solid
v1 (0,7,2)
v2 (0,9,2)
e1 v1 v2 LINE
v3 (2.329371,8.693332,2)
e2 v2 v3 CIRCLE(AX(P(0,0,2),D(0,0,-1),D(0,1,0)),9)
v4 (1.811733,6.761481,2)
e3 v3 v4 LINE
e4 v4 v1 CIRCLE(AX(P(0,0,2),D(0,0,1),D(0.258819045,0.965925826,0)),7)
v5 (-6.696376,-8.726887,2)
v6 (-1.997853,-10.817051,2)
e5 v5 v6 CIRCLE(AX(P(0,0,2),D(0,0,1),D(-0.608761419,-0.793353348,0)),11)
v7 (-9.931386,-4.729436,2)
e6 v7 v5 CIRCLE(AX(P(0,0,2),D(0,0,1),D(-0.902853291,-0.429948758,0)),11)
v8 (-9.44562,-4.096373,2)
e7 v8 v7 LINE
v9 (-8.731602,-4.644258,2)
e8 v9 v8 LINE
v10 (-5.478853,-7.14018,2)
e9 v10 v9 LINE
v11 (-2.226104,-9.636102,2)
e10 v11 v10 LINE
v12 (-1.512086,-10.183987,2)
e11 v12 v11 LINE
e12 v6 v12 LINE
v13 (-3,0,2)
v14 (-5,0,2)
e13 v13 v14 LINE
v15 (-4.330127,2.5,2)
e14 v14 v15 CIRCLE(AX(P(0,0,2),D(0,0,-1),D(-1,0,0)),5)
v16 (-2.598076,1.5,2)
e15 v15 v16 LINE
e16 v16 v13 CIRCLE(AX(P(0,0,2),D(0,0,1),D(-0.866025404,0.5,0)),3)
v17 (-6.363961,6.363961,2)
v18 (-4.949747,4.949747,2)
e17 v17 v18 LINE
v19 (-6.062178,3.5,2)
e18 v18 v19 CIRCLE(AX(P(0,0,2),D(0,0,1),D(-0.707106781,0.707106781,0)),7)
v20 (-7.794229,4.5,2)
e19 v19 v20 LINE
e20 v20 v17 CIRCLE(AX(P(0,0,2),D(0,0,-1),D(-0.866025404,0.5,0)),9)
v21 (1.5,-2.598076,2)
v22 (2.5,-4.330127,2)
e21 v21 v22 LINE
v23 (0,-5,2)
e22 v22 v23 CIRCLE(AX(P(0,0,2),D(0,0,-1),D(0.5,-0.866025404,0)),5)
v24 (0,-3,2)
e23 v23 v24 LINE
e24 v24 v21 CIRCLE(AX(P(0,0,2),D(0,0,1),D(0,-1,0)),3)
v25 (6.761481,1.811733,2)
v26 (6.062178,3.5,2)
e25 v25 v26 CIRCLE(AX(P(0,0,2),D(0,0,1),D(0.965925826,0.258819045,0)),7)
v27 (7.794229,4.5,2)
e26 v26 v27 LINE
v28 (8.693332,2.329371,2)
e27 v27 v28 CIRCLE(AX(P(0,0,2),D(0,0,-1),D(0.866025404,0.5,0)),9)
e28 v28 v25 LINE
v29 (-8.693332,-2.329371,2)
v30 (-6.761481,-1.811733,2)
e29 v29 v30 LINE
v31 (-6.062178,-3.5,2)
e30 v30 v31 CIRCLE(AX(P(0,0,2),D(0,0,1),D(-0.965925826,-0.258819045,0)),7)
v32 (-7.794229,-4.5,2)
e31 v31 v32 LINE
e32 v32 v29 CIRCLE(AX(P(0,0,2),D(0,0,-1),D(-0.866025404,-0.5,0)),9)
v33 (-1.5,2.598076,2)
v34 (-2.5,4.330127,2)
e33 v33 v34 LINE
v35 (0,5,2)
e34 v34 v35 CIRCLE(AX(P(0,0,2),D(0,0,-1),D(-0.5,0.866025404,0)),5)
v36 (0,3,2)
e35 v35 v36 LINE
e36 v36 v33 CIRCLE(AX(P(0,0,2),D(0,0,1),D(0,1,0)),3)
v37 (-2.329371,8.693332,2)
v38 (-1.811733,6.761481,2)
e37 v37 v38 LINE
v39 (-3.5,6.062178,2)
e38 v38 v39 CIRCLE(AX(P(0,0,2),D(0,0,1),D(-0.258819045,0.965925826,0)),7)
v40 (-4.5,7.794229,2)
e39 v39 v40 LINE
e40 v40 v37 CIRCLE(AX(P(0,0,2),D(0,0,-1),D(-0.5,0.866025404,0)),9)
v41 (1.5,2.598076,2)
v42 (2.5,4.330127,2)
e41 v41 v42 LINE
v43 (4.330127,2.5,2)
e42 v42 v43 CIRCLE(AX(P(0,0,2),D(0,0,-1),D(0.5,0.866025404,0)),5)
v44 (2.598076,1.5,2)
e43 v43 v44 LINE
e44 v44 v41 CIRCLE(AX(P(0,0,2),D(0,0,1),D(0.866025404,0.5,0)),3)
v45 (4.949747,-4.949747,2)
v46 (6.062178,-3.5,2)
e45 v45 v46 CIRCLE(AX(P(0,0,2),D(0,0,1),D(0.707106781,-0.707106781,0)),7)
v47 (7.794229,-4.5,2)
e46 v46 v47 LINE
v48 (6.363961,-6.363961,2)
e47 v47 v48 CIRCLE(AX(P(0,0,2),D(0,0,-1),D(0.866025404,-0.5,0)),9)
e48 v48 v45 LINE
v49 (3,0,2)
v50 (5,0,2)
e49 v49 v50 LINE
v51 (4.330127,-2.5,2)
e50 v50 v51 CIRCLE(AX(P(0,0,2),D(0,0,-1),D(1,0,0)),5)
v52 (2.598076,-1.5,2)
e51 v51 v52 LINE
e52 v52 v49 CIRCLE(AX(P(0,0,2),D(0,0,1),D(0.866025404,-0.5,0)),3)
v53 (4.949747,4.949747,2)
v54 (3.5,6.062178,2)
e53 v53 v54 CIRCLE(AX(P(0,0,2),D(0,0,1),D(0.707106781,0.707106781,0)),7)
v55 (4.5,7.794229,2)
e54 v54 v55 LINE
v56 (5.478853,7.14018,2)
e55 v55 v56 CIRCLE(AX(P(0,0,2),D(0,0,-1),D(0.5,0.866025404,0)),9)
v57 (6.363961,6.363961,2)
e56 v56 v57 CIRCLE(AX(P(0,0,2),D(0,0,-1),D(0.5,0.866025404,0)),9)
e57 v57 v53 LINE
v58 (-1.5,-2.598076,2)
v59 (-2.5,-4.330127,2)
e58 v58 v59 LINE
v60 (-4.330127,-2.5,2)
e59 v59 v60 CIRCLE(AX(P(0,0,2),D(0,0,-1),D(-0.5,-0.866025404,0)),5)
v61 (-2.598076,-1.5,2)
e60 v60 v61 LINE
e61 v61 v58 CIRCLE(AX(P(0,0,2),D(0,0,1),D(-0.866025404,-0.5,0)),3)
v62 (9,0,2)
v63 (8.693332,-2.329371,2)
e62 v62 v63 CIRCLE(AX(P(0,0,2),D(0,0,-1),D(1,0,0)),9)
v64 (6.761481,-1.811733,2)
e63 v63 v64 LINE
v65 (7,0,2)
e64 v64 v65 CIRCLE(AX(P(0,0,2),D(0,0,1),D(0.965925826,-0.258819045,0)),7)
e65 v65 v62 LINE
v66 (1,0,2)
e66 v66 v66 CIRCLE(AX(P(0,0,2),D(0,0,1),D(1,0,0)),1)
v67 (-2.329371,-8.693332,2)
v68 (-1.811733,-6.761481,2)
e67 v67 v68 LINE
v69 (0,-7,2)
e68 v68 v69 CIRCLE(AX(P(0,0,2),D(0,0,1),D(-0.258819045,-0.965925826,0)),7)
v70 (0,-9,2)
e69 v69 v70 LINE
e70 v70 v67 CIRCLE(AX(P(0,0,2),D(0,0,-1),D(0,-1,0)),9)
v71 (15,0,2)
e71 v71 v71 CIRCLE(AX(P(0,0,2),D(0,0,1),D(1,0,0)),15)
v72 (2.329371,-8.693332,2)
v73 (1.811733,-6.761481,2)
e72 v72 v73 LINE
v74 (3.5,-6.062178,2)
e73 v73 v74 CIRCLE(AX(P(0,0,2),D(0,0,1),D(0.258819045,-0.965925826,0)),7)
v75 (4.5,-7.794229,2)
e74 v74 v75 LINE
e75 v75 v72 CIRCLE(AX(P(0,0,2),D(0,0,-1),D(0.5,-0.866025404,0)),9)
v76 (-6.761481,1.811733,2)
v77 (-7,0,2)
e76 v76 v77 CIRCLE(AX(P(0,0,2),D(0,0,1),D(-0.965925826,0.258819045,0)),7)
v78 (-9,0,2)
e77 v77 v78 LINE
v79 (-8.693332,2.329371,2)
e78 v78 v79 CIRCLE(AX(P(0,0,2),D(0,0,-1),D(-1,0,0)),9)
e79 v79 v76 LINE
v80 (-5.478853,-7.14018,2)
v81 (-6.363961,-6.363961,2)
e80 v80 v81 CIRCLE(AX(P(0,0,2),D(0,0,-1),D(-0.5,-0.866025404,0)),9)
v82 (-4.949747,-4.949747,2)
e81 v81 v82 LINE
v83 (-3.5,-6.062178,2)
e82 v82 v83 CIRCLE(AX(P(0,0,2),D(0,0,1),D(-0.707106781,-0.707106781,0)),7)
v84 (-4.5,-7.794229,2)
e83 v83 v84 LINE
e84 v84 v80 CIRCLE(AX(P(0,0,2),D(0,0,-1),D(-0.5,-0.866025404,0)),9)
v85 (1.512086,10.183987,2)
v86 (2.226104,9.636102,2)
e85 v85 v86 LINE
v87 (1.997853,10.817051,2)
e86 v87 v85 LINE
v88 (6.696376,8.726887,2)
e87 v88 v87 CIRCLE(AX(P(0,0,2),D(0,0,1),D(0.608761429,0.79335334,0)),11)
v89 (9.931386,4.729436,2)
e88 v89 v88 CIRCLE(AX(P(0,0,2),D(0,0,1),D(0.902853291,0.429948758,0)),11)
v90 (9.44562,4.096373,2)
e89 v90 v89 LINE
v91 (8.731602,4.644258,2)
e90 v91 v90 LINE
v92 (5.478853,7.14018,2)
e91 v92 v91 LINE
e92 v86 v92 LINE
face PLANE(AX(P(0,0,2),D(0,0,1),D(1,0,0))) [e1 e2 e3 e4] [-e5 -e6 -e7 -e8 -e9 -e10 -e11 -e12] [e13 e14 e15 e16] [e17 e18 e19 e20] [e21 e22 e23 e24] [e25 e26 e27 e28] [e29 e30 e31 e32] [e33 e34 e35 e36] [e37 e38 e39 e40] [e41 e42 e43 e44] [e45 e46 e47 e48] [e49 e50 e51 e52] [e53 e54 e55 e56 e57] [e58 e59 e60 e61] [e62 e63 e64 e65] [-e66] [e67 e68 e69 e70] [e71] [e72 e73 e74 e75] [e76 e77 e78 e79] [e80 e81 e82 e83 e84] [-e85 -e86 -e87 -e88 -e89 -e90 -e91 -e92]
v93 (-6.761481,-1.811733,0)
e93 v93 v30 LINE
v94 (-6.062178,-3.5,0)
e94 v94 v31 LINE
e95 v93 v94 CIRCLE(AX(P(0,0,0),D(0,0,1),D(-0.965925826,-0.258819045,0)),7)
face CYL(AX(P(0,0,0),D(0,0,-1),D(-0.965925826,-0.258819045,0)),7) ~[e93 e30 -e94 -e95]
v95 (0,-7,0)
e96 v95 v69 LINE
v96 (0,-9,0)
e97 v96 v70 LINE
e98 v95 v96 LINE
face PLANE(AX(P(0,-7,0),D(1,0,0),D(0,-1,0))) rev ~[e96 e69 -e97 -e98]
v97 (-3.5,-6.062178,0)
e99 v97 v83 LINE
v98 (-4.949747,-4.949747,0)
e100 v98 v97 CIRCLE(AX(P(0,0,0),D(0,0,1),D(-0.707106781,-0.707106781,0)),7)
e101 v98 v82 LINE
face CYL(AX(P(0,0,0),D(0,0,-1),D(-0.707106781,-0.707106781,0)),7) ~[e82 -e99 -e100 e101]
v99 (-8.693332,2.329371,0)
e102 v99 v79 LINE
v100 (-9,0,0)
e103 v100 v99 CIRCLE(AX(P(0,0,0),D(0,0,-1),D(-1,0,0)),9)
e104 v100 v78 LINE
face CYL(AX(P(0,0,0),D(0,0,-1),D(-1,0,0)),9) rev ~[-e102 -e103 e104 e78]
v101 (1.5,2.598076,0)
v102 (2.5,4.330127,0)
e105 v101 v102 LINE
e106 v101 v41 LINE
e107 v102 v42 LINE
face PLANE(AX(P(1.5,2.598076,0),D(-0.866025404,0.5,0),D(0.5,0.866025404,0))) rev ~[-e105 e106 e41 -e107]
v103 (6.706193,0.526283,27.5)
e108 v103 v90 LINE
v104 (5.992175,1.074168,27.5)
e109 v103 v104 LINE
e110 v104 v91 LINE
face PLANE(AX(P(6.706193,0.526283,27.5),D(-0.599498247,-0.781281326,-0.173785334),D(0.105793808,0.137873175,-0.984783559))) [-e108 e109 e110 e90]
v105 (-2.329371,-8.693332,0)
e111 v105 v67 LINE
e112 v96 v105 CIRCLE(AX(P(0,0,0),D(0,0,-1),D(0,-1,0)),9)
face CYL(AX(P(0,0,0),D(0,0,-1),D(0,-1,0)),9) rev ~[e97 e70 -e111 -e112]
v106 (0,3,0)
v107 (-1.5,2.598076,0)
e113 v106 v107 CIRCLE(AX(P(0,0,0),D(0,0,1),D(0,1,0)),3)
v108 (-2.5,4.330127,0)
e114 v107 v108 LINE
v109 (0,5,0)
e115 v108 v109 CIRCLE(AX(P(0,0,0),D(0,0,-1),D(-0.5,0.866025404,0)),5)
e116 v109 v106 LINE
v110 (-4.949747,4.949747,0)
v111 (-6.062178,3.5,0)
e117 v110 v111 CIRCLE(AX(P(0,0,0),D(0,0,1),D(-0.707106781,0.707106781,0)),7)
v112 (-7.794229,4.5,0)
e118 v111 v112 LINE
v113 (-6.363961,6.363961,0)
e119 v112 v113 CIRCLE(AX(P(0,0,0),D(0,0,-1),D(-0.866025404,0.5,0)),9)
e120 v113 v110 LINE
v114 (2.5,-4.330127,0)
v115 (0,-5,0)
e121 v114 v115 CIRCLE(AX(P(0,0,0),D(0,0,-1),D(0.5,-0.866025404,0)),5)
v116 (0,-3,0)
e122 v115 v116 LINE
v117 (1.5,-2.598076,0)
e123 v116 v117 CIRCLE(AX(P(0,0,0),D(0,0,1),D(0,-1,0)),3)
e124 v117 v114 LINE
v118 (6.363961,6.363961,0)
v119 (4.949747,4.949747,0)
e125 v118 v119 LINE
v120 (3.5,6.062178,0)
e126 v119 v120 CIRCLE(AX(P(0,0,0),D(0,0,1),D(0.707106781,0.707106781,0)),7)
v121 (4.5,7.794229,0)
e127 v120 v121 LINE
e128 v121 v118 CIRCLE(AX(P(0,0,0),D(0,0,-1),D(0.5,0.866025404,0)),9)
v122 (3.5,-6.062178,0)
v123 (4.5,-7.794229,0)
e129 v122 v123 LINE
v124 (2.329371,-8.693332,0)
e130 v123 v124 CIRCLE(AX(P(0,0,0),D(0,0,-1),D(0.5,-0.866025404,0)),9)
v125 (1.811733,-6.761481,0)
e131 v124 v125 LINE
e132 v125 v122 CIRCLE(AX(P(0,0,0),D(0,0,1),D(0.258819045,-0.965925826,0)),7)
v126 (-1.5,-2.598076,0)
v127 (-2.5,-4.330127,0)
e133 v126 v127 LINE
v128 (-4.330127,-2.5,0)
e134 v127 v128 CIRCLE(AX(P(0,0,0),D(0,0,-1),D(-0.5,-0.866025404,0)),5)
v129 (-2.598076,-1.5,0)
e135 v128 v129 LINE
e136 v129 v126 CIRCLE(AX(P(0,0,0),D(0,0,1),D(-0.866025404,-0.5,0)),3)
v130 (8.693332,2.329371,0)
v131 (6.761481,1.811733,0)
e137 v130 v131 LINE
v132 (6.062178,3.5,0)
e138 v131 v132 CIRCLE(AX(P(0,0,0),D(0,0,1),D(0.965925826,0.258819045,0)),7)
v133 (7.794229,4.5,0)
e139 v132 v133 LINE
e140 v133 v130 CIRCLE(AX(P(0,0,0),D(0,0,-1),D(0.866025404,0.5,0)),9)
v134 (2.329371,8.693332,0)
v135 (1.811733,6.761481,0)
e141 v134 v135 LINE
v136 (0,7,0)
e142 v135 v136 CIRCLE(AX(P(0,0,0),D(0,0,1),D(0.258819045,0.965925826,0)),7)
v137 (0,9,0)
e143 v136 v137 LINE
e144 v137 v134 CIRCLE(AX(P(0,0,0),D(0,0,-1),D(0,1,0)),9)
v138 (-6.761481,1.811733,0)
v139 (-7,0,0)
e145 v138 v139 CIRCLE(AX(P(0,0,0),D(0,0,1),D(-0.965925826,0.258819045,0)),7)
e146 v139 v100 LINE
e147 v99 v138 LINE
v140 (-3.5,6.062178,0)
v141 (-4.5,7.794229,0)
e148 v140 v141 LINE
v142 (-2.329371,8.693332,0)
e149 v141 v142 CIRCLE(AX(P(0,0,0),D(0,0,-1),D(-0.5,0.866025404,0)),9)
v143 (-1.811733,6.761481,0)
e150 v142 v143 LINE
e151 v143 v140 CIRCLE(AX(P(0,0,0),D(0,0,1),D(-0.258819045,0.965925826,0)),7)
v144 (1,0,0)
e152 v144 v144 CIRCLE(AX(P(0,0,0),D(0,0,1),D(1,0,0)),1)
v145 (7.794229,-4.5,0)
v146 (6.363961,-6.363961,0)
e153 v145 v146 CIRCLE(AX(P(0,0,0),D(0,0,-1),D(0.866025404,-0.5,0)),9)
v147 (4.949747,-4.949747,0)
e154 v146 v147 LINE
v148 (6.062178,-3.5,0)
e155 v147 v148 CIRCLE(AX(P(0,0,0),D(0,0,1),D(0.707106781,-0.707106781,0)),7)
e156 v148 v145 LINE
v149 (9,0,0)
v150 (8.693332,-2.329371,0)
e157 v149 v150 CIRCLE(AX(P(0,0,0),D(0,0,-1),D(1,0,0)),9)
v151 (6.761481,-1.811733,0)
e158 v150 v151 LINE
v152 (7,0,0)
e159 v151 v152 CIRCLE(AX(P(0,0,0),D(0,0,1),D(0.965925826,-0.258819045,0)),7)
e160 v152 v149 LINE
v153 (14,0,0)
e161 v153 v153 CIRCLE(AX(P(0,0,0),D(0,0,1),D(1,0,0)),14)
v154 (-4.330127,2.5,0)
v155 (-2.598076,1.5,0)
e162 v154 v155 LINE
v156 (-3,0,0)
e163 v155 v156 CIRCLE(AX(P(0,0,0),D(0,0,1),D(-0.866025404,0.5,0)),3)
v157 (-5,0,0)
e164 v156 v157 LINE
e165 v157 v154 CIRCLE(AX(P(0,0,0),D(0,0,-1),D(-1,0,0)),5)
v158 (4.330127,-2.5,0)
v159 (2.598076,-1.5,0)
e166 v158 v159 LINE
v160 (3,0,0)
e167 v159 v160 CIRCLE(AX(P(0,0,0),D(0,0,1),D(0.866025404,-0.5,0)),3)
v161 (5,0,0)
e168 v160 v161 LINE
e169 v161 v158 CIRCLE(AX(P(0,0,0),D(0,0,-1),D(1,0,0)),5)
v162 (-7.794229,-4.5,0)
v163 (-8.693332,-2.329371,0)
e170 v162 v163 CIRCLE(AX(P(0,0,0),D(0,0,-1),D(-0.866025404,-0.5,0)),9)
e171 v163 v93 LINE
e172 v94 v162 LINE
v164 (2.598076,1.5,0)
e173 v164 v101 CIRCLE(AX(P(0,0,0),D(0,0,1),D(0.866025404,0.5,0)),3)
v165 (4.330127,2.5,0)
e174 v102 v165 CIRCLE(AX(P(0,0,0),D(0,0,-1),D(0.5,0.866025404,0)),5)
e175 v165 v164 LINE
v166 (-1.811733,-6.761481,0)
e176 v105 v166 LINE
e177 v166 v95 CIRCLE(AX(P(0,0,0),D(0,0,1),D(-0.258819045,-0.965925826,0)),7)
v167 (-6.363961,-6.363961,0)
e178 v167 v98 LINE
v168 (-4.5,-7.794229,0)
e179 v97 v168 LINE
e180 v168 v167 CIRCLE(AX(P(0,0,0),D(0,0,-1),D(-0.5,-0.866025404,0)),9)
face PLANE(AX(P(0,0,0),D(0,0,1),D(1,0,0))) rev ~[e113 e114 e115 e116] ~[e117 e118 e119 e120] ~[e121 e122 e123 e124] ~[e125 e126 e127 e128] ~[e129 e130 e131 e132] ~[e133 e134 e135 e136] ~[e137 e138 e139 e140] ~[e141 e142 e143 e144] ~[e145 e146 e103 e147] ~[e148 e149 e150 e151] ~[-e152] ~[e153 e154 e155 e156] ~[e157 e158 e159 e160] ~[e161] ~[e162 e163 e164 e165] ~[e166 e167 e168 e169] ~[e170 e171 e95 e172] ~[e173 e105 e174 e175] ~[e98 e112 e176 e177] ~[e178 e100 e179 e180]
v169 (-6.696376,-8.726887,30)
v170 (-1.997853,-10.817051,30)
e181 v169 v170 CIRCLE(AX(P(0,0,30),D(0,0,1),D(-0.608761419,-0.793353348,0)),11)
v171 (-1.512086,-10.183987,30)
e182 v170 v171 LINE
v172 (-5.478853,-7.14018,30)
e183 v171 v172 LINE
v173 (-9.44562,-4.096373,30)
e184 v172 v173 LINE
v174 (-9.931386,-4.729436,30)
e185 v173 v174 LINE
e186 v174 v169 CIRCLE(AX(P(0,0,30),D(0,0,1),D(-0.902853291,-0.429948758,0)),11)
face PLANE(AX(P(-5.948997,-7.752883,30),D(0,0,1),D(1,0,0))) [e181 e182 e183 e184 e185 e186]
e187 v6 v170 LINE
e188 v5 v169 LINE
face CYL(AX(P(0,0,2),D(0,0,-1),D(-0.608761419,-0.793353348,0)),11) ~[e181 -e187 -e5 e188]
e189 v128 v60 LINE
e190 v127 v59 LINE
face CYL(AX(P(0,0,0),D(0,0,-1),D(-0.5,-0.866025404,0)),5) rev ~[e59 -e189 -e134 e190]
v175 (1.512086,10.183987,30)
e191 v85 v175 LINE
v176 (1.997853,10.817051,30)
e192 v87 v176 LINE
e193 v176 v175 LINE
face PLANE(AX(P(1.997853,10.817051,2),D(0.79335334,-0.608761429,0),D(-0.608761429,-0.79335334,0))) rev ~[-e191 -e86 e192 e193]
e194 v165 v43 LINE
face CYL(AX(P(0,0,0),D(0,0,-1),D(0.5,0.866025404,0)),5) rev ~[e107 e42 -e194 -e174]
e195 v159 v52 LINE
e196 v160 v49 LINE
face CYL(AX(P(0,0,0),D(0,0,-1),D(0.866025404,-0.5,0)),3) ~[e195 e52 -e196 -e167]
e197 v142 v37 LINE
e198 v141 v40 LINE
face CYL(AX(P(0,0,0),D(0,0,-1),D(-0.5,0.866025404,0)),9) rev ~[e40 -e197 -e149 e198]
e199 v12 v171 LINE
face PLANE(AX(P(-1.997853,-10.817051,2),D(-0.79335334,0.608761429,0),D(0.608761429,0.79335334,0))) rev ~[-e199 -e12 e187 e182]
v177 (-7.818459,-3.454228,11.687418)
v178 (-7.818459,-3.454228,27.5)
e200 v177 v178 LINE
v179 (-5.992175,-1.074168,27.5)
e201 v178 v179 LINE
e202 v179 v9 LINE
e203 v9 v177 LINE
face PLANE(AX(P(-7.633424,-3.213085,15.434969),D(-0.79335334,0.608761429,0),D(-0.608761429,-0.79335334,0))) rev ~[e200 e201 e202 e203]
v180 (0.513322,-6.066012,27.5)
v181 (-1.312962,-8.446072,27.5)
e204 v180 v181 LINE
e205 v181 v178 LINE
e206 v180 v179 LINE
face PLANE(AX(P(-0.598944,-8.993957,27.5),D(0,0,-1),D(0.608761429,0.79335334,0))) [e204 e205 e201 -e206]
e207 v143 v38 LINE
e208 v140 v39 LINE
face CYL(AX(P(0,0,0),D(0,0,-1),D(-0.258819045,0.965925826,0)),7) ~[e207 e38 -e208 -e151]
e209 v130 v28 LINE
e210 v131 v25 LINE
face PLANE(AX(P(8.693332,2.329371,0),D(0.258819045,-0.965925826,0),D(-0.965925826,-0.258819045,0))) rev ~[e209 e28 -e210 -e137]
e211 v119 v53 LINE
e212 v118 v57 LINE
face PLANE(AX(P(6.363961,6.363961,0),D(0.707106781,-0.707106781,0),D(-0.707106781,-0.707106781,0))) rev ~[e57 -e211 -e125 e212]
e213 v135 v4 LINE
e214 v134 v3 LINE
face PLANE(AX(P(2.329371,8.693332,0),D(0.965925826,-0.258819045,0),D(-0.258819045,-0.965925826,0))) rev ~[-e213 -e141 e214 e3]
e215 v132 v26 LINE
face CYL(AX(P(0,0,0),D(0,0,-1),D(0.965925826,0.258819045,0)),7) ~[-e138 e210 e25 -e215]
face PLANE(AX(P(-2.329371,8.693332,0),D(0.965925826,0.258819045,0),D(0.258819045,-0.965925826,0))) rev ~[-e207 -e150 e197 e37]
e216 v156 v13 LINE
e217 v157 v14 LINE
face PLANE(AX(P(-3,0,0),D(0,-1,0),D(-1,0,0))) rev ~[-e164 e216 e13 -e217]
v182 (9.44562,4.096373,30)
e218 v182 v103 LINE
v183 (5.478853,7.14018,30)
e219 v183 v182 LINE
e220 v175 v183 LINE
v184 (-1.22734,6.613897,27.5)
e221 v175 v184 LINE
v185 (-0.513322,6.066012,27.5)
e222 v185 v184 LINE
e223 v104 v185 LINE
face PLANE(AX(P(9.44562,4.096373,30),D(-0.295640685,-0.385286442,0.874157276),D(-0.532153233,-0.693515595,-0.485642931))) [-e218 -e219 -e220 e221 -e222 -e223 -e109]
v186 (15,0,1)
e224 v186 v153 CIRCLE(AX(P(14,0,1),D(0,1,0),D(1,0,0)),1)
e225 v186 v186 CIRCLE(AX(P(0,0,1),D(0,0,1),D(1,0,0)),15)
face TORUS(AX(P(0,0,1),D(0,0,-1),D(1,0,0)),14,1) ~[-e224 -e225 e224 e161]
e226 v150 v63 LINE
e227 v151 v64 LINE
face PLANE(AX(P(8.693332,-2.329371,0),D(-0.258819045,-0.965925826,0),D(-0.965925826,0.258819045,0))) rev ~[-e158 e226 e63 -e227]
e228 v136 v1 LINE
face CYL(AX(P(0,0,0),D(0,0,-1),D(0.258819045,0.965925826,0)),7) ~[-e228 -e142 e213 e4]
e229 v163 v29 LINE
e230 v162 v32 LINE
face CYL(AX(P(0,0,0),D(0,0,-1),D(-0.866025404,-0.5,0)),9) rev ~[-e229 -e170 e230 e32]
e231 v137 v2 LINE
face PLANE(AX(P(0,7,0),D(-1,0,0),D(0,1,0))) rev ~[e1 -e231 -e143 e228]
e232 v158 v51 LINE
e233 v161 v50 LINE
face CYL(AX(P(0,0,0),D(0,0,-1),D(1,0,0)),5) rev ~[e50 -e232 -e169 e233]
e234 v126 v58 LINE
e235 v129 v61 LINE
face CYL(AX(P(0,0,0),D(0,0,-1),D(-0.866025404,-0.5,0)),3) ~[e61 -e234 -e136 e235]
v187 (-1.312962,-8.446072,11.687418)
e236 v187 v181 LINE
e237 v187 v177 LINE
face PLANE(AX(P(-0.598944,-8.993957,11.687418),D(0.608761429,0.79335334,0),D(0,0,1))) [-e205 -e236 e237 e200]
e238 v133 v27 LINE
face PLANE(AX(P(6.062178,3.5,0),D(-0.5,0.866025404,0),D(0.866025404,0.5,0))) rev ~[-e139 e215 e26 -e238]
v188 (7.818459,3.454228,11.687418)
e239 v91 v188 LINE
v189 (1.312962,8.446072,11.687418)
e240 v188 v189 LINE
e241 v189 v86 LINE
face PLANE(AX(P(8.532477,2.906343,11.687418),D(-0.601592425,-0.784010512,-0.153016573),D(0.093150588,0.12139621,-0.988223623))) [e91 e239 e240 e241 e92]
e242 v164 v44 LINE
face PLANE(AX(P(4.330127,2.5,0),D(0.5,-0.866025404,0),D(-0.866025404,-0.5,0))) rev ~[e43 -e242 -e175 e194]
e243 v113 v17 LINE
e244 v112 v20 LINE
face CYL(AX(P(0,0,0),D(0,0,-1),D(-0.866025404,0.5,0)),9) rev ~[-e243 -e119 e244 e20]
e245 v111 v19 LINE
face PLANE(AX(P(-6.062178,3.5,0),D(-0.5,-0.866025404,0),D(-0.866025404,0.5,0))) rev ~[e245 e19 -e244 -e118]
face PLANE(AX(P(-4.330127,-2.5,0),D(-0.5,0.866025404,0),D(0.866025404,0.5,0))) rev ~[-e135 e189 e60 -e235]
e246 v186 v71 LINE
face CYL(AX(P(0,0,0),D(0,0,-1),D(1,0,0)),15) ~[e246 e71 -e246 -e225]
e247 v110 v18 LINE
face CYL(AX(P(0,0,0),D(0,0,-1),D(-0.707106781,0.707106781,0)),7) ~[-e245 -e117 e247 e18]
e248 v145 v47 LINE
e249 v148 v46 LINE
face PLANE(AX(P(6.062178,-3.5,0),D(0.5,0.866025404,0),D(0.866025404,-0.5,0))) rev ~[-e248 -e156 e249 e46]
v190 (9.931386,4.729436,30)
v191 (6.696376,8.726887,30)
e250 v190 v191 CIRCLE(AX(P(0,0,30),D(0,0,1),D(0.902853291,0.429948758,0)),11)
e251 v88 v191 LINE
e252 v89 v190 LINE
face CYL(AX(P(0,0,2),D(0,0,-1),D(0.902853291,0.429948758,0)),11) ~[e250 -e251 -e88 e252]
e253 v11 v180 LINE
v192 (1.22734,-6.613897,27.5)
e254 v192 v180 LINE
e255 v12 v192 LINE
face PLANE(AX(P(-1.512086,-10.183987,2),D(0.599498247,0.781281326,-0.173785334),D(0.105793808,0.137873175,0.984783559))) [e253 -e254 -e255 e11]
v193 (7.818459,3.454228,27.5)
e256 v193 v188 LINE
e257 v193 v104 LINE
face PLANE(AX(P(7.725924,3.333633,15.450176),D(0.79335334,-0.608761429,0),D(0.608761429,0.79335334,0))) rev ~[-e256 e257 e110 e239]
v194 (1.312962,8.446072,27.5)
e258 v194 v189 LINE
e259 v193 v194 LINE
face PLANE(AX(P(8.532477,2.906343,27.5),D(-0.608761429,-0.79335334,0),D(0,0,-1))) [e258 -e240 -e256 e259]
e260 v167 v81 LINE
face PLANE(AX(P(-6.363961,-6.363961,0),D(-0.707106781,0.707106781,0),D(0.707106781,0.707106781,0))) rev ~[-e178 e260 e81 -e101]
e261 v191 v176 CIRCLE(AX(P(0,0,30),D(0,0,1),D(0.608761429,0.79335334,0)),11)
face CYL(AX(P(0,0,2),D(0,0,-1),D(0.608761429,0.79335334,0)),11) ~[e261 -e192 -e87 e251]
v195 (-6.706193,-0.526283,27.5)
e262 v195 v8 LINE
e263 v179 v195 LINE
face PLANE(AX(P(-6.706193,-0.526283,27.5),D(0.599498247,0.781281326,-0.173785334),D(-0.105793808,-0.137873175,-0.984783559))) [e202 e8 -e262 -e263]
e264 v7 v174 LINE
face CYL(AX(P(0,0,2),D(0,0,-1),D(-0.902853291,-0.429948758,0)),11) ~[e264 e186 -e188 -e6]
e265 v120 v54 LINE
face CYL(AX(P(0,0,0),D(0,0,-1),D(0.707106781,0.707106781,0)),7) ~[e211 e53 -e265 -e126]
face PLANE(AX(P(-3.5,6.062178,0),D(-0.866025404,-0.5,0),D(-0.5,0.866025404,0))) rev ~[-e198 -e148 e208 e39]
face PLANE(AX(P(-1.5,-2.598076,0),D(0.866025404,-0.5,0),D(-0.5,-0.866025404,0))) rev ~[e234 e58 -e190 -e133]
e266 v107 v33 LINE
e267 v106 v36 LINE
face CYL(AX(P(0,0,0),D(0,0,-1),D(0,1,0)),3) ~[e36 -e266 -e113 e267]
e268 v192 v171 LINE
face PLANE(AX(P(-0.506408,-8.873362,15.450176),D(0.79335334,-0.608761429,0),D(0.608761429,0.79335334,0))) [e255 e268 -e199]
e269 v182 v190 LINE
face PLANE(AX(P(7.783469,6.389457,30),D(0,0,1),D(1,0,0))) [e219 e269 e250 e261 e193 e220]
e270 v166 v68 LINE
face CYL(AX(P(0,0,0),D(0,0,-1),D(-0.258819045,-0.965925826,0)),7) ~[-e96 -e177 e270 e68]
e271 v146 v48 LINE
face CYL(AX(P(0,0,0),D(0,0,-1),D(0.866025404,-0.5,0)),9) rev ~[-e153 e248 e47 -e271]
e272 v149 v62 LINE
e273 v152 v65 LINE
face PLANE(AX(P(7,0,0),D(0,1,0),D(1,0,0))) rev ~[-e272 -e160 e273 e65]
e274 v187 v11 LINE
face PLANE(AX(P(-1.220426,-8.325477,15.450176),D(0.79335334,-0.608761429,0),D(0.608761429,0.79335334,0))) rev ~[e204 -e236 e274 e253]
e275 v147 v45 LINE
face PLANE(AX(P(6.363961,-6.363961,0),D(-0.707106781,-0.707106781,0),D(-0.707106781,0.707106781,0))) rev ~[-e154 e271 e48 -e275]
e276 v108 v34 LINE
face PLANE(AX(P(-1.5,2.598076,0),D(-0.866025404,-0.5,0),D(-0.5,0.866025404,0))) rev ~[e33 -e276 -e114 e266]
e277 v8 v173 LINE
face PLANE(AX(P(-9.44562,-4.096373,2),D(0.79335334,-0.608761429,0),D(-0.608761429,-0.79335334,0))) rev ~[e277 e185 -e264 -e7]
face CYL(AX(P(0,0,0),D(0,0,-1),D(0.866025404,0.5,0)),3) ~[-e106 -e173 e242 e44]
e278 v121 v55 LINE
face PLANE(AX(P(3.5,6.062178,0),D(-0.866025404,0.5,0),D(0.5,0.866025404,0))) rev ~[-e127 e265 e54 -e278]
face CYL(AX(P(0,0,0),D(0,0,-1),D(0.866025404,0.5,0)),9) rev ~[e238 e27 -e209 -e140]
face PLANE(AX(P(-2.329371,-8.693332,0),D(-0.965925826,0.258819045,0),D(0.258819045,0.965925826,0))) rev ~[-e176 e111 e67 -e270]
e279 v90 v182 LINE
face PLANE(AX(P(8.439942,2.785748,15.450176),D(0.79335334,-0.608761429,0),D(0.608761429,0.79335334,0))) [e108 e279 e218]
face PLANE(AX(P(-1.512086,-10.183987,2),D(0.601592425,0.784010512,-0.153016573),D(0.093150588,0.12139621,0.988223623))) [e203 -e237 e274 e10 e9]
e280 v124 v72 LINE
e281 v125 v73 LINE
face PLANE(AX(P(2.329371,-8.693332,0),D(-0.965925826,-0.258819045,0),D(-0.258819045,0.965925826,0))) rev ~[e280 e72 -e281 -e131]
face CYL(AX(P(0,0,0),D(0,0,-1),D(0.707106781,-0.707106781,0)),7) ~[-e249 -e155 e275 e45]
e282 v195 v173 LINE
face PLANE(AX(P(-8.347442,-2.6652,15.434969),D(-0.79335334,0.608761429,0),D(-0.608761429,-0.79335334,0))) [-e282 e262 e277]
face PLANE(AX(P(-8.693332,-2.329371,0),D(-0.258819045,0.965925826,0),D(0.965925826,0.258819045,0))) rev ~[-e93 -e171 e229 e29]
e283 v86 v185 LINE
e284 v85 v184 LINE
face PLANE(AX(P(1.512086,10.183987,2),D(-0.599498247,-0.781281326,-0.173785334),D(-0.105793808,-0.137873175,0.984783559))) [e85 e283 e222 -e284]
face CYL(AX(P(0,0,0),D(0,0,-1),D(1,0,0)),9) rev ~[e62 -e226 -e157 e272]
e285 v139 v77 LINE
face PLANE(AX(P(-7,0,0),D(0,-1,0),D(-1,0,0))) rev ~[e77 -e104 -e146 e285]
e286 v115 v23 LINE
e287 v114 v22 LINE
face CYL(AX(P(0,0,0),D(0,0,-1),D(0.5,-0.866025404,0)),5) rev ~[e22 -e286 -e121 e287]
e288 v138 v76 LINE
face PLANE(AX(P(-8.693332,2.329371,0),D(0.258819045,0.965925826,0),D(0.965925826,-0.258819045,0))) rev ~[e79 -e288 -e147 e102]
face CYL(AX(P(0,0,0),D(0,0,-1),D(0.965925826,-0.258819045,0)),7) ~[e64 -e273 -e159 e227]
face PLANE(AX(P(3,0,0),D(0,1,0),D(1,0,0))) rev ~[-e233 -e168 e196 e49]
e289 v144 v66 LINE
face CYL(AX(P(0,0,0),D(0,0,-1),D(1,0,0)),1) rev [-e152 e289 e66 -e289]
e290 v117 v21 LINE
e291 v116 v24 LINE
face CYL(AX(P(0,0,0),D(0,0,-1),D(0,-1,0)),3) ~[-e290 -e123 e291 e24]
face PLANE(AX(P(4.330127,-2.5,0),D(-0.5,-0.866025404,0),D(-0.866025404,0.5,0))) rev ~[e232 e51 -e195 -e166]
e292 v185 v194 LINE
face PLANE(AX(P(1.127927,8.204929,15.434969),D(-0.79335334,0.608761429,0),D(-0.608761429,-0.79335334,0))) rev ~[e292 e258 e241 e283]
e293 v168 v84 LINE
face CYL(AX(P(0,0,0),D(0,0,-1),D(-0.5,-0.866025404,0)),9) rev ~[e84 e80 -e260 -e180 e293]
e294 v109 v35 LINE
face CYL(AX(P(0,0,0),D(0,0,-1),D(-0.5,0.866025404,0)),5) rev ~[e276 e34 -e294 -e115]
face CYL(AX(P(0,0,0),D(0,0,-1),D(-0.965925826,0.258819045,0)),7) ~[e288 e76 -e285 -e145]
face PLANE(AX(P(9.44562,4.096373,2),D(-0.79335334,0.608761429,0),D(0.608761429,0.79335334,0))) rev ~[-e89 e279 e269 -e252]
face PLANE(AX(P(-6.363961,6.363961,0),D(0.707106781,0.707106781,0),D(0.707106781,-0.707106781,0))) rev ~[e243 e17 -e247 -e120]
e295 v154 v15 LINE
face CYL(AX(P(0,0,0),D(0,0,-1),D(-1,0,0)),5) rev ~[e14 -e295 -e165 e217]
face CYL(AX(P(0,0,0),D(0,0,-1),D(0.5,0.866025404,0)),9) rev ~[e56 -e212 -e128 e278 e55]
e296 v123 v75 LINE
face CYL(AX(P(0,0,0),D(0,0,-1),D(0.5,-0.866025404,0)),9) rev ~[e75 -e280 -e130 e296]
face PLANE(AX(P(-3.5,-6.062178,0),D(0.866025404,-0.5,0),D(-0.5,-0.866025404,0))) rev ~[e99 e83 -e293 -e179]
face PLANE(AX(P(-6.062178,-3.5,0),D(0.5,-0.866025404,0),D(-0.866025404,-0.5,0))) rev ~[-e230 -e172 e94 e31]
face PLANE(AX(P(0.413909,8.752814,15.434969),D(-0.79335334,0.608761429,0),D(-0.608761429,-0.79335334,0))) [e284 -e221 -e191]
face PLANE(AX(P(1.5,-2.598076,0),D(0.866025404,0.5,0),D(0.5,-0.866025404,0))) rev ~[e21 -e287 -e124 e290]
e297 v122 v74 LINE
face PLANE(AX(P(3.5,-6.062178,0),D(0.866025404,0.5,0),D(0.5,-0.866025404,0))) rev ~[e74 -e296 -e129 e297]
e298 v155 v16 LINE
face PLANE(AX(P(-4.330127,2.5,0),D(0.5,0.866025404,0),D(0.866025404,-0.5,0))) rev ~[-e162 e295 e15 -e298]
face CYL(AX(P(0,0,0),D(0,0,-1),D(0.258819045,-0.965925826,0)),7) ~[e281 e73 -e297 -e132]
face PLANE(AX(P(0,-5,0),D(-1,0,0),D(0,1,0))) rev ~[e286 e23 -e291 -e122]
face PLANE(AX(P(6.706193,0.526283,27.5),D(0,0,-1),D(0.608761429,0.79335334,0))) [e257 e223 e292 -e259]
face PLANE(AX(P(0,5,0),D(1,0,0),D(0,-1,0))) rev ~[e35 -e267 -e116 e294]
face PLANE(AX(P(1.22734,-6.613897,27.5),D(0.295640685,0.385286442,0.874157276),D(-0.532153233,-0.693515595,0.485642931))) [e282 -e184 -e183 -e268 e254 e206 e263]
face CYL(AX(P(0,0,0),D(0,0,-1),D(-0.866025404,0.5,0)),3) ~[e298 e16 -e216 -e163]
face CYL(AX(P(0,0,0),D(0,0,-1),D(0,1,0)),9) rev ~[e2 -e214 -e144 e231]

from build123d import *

# Parameters (mm, degrees)
F0_R     = 15
F0_R_2   = 1
F1_DEPTH = 2
F3_DEPTH = 28
F5_DEPTH = 10
F7_DEPTH = 0.9
F9_DEPTH = 0.9
F10_R    = 1


with BuildPart() as f1:
    # F0 (on Top) → F1 (new body)
    with BuildSketch(Plane.XY):
        Circle(F0_R)
        with BuildLine():
            Line((0, -7), (0, -9))
            ThreePointArc((0, -9), (-1.17473573, -8.9230037524), (-2.3293714059, -8.6933324366))
            Line((-2.3293714059, -8.6933324366), (-1.8117333157, -6.761480784))
            ThreePointArc((-1.8117333157, -6.761480784), (-0.9136833455, -6.9401140296), (0, -7))
        make_face(mode=Mode.SUBTRACT)
        with BuildLine():
            Line((-3.5, -6.0621778265), (-4.5, -7.7942286341))
            ThreePointArc((-4.5, -7.7942286341), (-5.4788528611, -7.1401800626), (-6.3639610307, -6.3639610307))
            Line((-6.3639610307, -6.3639610307), (-4.9497474683, -4.9497474683))
            ThreePointArc((-4.9497474683, -4.9497474683), (-4.2613300031, -5.553473382), (-3.5, -6.0621778265))
        make_face(mode=Mode.SUBTRACT)
        with BuildLine():
            Line((-6.0621778265, -3.5), (-7.7942286341, -4.5))
            ThreePointArc((-7.7942286341, -4.5), (-8.3149157926, -3.4441508913), (-8.6933324366, -2.3293714059))
            Line((-8.6933324366, -2.3293714059), (-6.761480784, -1.8117333157))
            ThreePointArc((-6.761480784, -1.8117333157), (-6.4671567276, -2.6787840266), (-6.0621778265, -3.5))
        make_face(mode=Mode.SUBTRACT)
        with BuildLine():
            Line((-4.3301270189, -2.5), (-2.5980762114, -1.5))
            ThreePointArc((-2.5980762114, -1.5), (-2.1213203436, -2.1213203436), (-1.5, -2.5980762114))
            Line((-1.5, -2.5980762114), (-2.5, -4.3301270189))
            ThreePointArc((-2.5, -4.3301270189), (-3.5355339059, -3.5355339059), (-4.3301270189, -2.5))
        make_face(mode=Mode.SUBTRACT)
        with BuildLine():
            Line((3.5, -6.0621778265), (4.5, -7.7942286341))
            ThreePointArc((4.5, -7.7942286341), (3.4441508913, -8.3149157926), (2.3293714059, -8.6933324366))
            Line((2.3293714059, -8.6933324366), (1.8117333157, -6.761480784))
            ThreePointArc((1.8117333157, -6.761480784), (2.6787840266, -6.4671567276), (3.5, -6.0621778265))
        make_face(mode=Mode.SUBTRACT)
        with BuildLine():
            Line((0, -5), (0, -3))
            ThreePointArc((0, -3), (0.7764571353, -2.8977774789), (1.5, -2.5980762114))
            Line((1.5, -2.5980762114), (2.5, -4.3301270189))
            ThreePointArc((2.5, -4.3301270189), (1.2940952255, -4.8296291314), (0, -5))
        make_face(mode=Mode.SUBTRACT)
        with BuildLine():
            Line((6.0621778265, -3.5), (7.7942286341, -4.5))
            ThreePointArc((7.7942286341, -4.5), (7.1401800626, -5.4788528611), (6.3639610307, -6.3639610307))
            Line((6.3639610307, -6.3639610307), (4.9497474683, -4.9497474683))
            ThreePointArc((4.9497474683, -4.9497474683), (5.553473382, -4.2613300031), (6.0621778265, -3.5))
        make_face(mode=Mode.SUBTRACT)
        with BuildLine():
            Line((4.3301270189, -2.5), (2.5980762114, -1.5))
            ThreePointArc((2.5980762114, -1.5), (2.8977774789, -0.7764571353), (3, 0))
            Line((3, 0), (5, 0))
            ThreePointArc((5, 0), (4.8296291314, -1.2940952255), (4.3301270189, -2.5))
        make_face(mode=Mode.SUBTRACT)
        with BuildLine():
            Line((7, 0), (9, 0))
            ThreePointArc((9, 0), (8.9230037524, -1.17473573), (8.6933324366, -2.3293714059))
            Line((8.6933324366, -2.3293714059), (6.761480784, -1.8117333157))
            ThreePointArc((6.761480784, -1.8117333157), (6.9401140296, -0.9136833455), (7, 0))
        make_face(mode=Mode.SUBTRACT)
        with BuildLine():
            ThreePointArc((-6.761480784, 1.8117333157), (-6.9401140296, 0.9136833455), (-7, 0))
            Line((-7, 0), (-9, 0))
            ThreePointArc((-9, 0), (-8.9230037524, 1.17473573), (-8.6933324366, 2.3293714059))
            Line((-8.6933324366, 2.3293714059), (-6.761480784, 1.8117333157))
        make_face(mode=Mode.SUBTRACT)
        with BuildLine():
            ThreePointArc((-2.5980762114, 1.5), (-2.8977774789, 0.7764571353), (-3, 0))
            Line((-3, 0), (-5, 0))
            ThreePointArc((-5, 0), (-4.8296291314, 1.2940952255), (-4.3301270189, 2.5))
            Line((-4.3301270189, 2.5), (-2.5980762114, 1.5))
        make_face(mode=Mode.SUBTRACT)
        with BuildLine():
            Line((-6.0621778265, 3.5), (-7.7942286341, 4.5))
            ThreePointArc((-7.7942286341, 4.5), (-7.1401800626, 5.4788528611), (-6.3639610307, 6.3639610307))
            Line((-6.3639610307, 6.3639610307), (-4.9497474683, 4.9497474683))
            ThreePointArc((-4.9497474683, 4.9497474683), (-5.553473382, 4.2613300031), (-6.0621778265, 3.5))
        make_face(mode=Mode.SUBTRACT)
        with BuildLine():
            ThreePointArc((0, 3), (-0.7764571353, 2.8977774789), (-1.5, 2.5980762114))
            Line((-1.5, 2.5980762114), (-2.5, 4.3301270189))
            ThreePointArc((-2.5, 4.3301270189), (-1.2940952255, 4.8296291314), (0, 5))
            Line((0, 5), (0, 3))
        make_face(mode=Mode.SUBTRACT)
        with BuildLine():
            Line((-3.5, 6.0621778265), (-4.5, 7.7942286341))
            ThreePointArc((-4.5, 7.7942286341), (-3.4441508913, 8.3149157926), (-2.3293714059, 8.6933324366))
            Line((-2.3293714059, 8.6933324366), (-1.8117333157, 6.761480784))
            ThreePointArc((-1.8117333157, 6.761480784), (-2.6787840266, 6.4671567276), (-3.5, 6.0621778265))
        make_face(mode=Mode.SUBTRACT)
        Circle(F0_R_2, mode=Mode.SUBTRACT)
        with BuildLine():
            Line((4.3301270189, 2.5), (2.5980762114, 1.5))
            ThreePointArc((2.5980762114, 1.5), (2.1213203436, 2.1213203436), (1.5, 2.5980762114))
            Line((1.5, 2.5980762114), (2.5, 4.3301270189))
            ThreePointArc((2.5, 4.3301270189), (3.5355339059, 3.5355339059), (4.3301270189, 2.5))
        make_face(mode=Mode.SUBTRACT)
        with BuildLine():
            Line((6.0621778265, 3.5), (7.7942286341, 4.5))
            ThreePointArc((7.7942286341, 4.5), (8.3149157926, 3.4441508913), (8.6933324366, 2.3293714059))
            Line((8.6933324366, 2.3293714059), (6.761480784, 1.8117333157))
            ThreePointArc((6.761480784, 1.8117333157), (6.4671567276, 2.6787840266), (6.0621778265, 3.5))
        make_face(mode=Mode.SUBTRACT)
        with BuildLine():
            Line((3.5, 6.0621778265), (4.5, 7.7942286341))
            ThreePointArc((4.5, 7.7942286341), (5.4788528611, 7.1401800626), (6.3639610307, 6.3639610307))
            Line((6.3639610307, 6.3639610307), (4.9497474683, 4.9497474683))
            ThreePointArc((4.9497474683, 4.9497474683), (4.2613300031, 5.553473382), (3.5, 6.0621778265))
        make_face(mode=Mode.SUBTRACT)
        with BuildLine():
            Line((0, 7), (0, 9))
            ThreePointArc((0, 9), (1.17473573, 8.9230037524), (2.3293714059, 8.6933324366))
            Line((2.3293714059, 8.6933324366), (1.8117333157, 6.761480784))
            ThreePointArc((1.8117333157, 6.761480784), (0.9136833455, 6.9401140296), (0, 7))
        make_face(mode=Mode.SUBTRACT)
    extrude(amount=F1_DEPTH)

    # F2 (on face) → F3 (join)
    with BuildSketch(Plane.XY.offset(2)):
        with BuildLine():
            Line((6.6963757191, 8.7268867432), (5.4788528611, 7.1401800626))
            Line((5.4788528342, 7.1401800833), (9.4456195625, 4.0963729176))
            Line((9.4456195625, 4.0963729176), (9.9313862061, 4.7294363327))
            ThreePointArc((9.9313862061, 4.7294363327), (8.5507613173, 6.9198613349), (6.6963757191, 8.7268867432))
        make_face()
        with BuildLine():
            Line((1.9978528032, 10.8170506228), (1.5120861596, 10.1839872077))
            Line((1.5120861596, 10.1839872077), (5.4788528342, 7.1401800833))
            Line((5.4788528611, 7.1401800626), (6.6963757191, 8.7268867432))
            ThreePointArc((6.6963757191, 8.7268867432), (4.4709728986, 10.0503930938), (1.9978528032, 10.8170506228))
        make_face()
        with BuildLine():
            Line((-9.4456195625, -4.0963729176), (-9.9313862061, -4.7294363327))
            ThreePointArc((-9.9313862061, -4.7294363327), (-8.5507612755, -6.9198613865), (-6.6963756136, -8.7268868241))
            ThreePointArc((-6.6963756136, -8.7268868241), (-4.4709728379, -10.0503931208), (-1.9978528032, -10.8170506228))
            Line((-1.9978528032, -10.8170506228), (-1.5120861596, -10.1839872077))
            Line((-1.5120861596, -10.1839872077), (-5.47885283, -7.1401800865))
            Line((-5.47885283, -7.1401800865), (-9.4456195625, -4.0963729176))
        make_face()
    extrude(amount=F3_DEPTH)

    # F4 (on face) → F5 (join)
    with BuildSketch(Plane(origin=(3.9667667015, -3.043807145, 0), x_dir=(0.608761429, 0.7933533403, 0), z_dir=(0.7933533403, -0.608761429, 0))):
        Polygon((-4.5, 27.5), (-9, 30), (-9, 2), (-7.5, 11.6874175146), (-7.5, 27.5), align=None)
        Polygon((4.5, 27.5), (7.5, 27.5), (7.5, 11.6874175146), (9, 2), (9, 30), align=None)
    extrude(amount=-F5_DEPTH)

    # F6 (on face) → F7 (join)
    with BuildSketch(Plane(origin=(3.9667667015, -3.043807145, 0), x_dir=(0.608761429, 0.7933533403, 0), z_dir=(0.7933533403, -0.608761429, 0))):
        Polygon((-9, 2), (-4.5, 27.5), (-7.5, 27.5), (-7.5, 22.8047555536), align=None)
        Polygon((7.5, 22.8047555536), (7.5, 27.5), (4.5, 27.5), (9, 2), align=None)
    extrude(amount=-F7_DEPTH)

    # F8 (on face) → F9 (join)
    with BuildSketch(Plane(origin=(-3.9667667015, 3.043807145, 0), x_dir=(-0.608761429, -0.7933533403, 0), z_dir=(-0.7933533403, 0.608761429, 0))):
        Polygon((-9, 2), (-4.5, 27.5), (-7.5, 27.5), (-7.5, 11.6874175146), align=None)
        Polygon((7.5, 27.5), (4.5, 27.5), (9, 2), (7.5, 11.6874175146), align=None)
    extrude(amount=-F9_DEPTH)

    # F10
    f10_edges = [f1.edges().sort_by_distance(p)[0] for p in [
        (-15, 0, 0),
    ]]
    fillet(f10_edges, radius=F10_R)


solid = f1.part
